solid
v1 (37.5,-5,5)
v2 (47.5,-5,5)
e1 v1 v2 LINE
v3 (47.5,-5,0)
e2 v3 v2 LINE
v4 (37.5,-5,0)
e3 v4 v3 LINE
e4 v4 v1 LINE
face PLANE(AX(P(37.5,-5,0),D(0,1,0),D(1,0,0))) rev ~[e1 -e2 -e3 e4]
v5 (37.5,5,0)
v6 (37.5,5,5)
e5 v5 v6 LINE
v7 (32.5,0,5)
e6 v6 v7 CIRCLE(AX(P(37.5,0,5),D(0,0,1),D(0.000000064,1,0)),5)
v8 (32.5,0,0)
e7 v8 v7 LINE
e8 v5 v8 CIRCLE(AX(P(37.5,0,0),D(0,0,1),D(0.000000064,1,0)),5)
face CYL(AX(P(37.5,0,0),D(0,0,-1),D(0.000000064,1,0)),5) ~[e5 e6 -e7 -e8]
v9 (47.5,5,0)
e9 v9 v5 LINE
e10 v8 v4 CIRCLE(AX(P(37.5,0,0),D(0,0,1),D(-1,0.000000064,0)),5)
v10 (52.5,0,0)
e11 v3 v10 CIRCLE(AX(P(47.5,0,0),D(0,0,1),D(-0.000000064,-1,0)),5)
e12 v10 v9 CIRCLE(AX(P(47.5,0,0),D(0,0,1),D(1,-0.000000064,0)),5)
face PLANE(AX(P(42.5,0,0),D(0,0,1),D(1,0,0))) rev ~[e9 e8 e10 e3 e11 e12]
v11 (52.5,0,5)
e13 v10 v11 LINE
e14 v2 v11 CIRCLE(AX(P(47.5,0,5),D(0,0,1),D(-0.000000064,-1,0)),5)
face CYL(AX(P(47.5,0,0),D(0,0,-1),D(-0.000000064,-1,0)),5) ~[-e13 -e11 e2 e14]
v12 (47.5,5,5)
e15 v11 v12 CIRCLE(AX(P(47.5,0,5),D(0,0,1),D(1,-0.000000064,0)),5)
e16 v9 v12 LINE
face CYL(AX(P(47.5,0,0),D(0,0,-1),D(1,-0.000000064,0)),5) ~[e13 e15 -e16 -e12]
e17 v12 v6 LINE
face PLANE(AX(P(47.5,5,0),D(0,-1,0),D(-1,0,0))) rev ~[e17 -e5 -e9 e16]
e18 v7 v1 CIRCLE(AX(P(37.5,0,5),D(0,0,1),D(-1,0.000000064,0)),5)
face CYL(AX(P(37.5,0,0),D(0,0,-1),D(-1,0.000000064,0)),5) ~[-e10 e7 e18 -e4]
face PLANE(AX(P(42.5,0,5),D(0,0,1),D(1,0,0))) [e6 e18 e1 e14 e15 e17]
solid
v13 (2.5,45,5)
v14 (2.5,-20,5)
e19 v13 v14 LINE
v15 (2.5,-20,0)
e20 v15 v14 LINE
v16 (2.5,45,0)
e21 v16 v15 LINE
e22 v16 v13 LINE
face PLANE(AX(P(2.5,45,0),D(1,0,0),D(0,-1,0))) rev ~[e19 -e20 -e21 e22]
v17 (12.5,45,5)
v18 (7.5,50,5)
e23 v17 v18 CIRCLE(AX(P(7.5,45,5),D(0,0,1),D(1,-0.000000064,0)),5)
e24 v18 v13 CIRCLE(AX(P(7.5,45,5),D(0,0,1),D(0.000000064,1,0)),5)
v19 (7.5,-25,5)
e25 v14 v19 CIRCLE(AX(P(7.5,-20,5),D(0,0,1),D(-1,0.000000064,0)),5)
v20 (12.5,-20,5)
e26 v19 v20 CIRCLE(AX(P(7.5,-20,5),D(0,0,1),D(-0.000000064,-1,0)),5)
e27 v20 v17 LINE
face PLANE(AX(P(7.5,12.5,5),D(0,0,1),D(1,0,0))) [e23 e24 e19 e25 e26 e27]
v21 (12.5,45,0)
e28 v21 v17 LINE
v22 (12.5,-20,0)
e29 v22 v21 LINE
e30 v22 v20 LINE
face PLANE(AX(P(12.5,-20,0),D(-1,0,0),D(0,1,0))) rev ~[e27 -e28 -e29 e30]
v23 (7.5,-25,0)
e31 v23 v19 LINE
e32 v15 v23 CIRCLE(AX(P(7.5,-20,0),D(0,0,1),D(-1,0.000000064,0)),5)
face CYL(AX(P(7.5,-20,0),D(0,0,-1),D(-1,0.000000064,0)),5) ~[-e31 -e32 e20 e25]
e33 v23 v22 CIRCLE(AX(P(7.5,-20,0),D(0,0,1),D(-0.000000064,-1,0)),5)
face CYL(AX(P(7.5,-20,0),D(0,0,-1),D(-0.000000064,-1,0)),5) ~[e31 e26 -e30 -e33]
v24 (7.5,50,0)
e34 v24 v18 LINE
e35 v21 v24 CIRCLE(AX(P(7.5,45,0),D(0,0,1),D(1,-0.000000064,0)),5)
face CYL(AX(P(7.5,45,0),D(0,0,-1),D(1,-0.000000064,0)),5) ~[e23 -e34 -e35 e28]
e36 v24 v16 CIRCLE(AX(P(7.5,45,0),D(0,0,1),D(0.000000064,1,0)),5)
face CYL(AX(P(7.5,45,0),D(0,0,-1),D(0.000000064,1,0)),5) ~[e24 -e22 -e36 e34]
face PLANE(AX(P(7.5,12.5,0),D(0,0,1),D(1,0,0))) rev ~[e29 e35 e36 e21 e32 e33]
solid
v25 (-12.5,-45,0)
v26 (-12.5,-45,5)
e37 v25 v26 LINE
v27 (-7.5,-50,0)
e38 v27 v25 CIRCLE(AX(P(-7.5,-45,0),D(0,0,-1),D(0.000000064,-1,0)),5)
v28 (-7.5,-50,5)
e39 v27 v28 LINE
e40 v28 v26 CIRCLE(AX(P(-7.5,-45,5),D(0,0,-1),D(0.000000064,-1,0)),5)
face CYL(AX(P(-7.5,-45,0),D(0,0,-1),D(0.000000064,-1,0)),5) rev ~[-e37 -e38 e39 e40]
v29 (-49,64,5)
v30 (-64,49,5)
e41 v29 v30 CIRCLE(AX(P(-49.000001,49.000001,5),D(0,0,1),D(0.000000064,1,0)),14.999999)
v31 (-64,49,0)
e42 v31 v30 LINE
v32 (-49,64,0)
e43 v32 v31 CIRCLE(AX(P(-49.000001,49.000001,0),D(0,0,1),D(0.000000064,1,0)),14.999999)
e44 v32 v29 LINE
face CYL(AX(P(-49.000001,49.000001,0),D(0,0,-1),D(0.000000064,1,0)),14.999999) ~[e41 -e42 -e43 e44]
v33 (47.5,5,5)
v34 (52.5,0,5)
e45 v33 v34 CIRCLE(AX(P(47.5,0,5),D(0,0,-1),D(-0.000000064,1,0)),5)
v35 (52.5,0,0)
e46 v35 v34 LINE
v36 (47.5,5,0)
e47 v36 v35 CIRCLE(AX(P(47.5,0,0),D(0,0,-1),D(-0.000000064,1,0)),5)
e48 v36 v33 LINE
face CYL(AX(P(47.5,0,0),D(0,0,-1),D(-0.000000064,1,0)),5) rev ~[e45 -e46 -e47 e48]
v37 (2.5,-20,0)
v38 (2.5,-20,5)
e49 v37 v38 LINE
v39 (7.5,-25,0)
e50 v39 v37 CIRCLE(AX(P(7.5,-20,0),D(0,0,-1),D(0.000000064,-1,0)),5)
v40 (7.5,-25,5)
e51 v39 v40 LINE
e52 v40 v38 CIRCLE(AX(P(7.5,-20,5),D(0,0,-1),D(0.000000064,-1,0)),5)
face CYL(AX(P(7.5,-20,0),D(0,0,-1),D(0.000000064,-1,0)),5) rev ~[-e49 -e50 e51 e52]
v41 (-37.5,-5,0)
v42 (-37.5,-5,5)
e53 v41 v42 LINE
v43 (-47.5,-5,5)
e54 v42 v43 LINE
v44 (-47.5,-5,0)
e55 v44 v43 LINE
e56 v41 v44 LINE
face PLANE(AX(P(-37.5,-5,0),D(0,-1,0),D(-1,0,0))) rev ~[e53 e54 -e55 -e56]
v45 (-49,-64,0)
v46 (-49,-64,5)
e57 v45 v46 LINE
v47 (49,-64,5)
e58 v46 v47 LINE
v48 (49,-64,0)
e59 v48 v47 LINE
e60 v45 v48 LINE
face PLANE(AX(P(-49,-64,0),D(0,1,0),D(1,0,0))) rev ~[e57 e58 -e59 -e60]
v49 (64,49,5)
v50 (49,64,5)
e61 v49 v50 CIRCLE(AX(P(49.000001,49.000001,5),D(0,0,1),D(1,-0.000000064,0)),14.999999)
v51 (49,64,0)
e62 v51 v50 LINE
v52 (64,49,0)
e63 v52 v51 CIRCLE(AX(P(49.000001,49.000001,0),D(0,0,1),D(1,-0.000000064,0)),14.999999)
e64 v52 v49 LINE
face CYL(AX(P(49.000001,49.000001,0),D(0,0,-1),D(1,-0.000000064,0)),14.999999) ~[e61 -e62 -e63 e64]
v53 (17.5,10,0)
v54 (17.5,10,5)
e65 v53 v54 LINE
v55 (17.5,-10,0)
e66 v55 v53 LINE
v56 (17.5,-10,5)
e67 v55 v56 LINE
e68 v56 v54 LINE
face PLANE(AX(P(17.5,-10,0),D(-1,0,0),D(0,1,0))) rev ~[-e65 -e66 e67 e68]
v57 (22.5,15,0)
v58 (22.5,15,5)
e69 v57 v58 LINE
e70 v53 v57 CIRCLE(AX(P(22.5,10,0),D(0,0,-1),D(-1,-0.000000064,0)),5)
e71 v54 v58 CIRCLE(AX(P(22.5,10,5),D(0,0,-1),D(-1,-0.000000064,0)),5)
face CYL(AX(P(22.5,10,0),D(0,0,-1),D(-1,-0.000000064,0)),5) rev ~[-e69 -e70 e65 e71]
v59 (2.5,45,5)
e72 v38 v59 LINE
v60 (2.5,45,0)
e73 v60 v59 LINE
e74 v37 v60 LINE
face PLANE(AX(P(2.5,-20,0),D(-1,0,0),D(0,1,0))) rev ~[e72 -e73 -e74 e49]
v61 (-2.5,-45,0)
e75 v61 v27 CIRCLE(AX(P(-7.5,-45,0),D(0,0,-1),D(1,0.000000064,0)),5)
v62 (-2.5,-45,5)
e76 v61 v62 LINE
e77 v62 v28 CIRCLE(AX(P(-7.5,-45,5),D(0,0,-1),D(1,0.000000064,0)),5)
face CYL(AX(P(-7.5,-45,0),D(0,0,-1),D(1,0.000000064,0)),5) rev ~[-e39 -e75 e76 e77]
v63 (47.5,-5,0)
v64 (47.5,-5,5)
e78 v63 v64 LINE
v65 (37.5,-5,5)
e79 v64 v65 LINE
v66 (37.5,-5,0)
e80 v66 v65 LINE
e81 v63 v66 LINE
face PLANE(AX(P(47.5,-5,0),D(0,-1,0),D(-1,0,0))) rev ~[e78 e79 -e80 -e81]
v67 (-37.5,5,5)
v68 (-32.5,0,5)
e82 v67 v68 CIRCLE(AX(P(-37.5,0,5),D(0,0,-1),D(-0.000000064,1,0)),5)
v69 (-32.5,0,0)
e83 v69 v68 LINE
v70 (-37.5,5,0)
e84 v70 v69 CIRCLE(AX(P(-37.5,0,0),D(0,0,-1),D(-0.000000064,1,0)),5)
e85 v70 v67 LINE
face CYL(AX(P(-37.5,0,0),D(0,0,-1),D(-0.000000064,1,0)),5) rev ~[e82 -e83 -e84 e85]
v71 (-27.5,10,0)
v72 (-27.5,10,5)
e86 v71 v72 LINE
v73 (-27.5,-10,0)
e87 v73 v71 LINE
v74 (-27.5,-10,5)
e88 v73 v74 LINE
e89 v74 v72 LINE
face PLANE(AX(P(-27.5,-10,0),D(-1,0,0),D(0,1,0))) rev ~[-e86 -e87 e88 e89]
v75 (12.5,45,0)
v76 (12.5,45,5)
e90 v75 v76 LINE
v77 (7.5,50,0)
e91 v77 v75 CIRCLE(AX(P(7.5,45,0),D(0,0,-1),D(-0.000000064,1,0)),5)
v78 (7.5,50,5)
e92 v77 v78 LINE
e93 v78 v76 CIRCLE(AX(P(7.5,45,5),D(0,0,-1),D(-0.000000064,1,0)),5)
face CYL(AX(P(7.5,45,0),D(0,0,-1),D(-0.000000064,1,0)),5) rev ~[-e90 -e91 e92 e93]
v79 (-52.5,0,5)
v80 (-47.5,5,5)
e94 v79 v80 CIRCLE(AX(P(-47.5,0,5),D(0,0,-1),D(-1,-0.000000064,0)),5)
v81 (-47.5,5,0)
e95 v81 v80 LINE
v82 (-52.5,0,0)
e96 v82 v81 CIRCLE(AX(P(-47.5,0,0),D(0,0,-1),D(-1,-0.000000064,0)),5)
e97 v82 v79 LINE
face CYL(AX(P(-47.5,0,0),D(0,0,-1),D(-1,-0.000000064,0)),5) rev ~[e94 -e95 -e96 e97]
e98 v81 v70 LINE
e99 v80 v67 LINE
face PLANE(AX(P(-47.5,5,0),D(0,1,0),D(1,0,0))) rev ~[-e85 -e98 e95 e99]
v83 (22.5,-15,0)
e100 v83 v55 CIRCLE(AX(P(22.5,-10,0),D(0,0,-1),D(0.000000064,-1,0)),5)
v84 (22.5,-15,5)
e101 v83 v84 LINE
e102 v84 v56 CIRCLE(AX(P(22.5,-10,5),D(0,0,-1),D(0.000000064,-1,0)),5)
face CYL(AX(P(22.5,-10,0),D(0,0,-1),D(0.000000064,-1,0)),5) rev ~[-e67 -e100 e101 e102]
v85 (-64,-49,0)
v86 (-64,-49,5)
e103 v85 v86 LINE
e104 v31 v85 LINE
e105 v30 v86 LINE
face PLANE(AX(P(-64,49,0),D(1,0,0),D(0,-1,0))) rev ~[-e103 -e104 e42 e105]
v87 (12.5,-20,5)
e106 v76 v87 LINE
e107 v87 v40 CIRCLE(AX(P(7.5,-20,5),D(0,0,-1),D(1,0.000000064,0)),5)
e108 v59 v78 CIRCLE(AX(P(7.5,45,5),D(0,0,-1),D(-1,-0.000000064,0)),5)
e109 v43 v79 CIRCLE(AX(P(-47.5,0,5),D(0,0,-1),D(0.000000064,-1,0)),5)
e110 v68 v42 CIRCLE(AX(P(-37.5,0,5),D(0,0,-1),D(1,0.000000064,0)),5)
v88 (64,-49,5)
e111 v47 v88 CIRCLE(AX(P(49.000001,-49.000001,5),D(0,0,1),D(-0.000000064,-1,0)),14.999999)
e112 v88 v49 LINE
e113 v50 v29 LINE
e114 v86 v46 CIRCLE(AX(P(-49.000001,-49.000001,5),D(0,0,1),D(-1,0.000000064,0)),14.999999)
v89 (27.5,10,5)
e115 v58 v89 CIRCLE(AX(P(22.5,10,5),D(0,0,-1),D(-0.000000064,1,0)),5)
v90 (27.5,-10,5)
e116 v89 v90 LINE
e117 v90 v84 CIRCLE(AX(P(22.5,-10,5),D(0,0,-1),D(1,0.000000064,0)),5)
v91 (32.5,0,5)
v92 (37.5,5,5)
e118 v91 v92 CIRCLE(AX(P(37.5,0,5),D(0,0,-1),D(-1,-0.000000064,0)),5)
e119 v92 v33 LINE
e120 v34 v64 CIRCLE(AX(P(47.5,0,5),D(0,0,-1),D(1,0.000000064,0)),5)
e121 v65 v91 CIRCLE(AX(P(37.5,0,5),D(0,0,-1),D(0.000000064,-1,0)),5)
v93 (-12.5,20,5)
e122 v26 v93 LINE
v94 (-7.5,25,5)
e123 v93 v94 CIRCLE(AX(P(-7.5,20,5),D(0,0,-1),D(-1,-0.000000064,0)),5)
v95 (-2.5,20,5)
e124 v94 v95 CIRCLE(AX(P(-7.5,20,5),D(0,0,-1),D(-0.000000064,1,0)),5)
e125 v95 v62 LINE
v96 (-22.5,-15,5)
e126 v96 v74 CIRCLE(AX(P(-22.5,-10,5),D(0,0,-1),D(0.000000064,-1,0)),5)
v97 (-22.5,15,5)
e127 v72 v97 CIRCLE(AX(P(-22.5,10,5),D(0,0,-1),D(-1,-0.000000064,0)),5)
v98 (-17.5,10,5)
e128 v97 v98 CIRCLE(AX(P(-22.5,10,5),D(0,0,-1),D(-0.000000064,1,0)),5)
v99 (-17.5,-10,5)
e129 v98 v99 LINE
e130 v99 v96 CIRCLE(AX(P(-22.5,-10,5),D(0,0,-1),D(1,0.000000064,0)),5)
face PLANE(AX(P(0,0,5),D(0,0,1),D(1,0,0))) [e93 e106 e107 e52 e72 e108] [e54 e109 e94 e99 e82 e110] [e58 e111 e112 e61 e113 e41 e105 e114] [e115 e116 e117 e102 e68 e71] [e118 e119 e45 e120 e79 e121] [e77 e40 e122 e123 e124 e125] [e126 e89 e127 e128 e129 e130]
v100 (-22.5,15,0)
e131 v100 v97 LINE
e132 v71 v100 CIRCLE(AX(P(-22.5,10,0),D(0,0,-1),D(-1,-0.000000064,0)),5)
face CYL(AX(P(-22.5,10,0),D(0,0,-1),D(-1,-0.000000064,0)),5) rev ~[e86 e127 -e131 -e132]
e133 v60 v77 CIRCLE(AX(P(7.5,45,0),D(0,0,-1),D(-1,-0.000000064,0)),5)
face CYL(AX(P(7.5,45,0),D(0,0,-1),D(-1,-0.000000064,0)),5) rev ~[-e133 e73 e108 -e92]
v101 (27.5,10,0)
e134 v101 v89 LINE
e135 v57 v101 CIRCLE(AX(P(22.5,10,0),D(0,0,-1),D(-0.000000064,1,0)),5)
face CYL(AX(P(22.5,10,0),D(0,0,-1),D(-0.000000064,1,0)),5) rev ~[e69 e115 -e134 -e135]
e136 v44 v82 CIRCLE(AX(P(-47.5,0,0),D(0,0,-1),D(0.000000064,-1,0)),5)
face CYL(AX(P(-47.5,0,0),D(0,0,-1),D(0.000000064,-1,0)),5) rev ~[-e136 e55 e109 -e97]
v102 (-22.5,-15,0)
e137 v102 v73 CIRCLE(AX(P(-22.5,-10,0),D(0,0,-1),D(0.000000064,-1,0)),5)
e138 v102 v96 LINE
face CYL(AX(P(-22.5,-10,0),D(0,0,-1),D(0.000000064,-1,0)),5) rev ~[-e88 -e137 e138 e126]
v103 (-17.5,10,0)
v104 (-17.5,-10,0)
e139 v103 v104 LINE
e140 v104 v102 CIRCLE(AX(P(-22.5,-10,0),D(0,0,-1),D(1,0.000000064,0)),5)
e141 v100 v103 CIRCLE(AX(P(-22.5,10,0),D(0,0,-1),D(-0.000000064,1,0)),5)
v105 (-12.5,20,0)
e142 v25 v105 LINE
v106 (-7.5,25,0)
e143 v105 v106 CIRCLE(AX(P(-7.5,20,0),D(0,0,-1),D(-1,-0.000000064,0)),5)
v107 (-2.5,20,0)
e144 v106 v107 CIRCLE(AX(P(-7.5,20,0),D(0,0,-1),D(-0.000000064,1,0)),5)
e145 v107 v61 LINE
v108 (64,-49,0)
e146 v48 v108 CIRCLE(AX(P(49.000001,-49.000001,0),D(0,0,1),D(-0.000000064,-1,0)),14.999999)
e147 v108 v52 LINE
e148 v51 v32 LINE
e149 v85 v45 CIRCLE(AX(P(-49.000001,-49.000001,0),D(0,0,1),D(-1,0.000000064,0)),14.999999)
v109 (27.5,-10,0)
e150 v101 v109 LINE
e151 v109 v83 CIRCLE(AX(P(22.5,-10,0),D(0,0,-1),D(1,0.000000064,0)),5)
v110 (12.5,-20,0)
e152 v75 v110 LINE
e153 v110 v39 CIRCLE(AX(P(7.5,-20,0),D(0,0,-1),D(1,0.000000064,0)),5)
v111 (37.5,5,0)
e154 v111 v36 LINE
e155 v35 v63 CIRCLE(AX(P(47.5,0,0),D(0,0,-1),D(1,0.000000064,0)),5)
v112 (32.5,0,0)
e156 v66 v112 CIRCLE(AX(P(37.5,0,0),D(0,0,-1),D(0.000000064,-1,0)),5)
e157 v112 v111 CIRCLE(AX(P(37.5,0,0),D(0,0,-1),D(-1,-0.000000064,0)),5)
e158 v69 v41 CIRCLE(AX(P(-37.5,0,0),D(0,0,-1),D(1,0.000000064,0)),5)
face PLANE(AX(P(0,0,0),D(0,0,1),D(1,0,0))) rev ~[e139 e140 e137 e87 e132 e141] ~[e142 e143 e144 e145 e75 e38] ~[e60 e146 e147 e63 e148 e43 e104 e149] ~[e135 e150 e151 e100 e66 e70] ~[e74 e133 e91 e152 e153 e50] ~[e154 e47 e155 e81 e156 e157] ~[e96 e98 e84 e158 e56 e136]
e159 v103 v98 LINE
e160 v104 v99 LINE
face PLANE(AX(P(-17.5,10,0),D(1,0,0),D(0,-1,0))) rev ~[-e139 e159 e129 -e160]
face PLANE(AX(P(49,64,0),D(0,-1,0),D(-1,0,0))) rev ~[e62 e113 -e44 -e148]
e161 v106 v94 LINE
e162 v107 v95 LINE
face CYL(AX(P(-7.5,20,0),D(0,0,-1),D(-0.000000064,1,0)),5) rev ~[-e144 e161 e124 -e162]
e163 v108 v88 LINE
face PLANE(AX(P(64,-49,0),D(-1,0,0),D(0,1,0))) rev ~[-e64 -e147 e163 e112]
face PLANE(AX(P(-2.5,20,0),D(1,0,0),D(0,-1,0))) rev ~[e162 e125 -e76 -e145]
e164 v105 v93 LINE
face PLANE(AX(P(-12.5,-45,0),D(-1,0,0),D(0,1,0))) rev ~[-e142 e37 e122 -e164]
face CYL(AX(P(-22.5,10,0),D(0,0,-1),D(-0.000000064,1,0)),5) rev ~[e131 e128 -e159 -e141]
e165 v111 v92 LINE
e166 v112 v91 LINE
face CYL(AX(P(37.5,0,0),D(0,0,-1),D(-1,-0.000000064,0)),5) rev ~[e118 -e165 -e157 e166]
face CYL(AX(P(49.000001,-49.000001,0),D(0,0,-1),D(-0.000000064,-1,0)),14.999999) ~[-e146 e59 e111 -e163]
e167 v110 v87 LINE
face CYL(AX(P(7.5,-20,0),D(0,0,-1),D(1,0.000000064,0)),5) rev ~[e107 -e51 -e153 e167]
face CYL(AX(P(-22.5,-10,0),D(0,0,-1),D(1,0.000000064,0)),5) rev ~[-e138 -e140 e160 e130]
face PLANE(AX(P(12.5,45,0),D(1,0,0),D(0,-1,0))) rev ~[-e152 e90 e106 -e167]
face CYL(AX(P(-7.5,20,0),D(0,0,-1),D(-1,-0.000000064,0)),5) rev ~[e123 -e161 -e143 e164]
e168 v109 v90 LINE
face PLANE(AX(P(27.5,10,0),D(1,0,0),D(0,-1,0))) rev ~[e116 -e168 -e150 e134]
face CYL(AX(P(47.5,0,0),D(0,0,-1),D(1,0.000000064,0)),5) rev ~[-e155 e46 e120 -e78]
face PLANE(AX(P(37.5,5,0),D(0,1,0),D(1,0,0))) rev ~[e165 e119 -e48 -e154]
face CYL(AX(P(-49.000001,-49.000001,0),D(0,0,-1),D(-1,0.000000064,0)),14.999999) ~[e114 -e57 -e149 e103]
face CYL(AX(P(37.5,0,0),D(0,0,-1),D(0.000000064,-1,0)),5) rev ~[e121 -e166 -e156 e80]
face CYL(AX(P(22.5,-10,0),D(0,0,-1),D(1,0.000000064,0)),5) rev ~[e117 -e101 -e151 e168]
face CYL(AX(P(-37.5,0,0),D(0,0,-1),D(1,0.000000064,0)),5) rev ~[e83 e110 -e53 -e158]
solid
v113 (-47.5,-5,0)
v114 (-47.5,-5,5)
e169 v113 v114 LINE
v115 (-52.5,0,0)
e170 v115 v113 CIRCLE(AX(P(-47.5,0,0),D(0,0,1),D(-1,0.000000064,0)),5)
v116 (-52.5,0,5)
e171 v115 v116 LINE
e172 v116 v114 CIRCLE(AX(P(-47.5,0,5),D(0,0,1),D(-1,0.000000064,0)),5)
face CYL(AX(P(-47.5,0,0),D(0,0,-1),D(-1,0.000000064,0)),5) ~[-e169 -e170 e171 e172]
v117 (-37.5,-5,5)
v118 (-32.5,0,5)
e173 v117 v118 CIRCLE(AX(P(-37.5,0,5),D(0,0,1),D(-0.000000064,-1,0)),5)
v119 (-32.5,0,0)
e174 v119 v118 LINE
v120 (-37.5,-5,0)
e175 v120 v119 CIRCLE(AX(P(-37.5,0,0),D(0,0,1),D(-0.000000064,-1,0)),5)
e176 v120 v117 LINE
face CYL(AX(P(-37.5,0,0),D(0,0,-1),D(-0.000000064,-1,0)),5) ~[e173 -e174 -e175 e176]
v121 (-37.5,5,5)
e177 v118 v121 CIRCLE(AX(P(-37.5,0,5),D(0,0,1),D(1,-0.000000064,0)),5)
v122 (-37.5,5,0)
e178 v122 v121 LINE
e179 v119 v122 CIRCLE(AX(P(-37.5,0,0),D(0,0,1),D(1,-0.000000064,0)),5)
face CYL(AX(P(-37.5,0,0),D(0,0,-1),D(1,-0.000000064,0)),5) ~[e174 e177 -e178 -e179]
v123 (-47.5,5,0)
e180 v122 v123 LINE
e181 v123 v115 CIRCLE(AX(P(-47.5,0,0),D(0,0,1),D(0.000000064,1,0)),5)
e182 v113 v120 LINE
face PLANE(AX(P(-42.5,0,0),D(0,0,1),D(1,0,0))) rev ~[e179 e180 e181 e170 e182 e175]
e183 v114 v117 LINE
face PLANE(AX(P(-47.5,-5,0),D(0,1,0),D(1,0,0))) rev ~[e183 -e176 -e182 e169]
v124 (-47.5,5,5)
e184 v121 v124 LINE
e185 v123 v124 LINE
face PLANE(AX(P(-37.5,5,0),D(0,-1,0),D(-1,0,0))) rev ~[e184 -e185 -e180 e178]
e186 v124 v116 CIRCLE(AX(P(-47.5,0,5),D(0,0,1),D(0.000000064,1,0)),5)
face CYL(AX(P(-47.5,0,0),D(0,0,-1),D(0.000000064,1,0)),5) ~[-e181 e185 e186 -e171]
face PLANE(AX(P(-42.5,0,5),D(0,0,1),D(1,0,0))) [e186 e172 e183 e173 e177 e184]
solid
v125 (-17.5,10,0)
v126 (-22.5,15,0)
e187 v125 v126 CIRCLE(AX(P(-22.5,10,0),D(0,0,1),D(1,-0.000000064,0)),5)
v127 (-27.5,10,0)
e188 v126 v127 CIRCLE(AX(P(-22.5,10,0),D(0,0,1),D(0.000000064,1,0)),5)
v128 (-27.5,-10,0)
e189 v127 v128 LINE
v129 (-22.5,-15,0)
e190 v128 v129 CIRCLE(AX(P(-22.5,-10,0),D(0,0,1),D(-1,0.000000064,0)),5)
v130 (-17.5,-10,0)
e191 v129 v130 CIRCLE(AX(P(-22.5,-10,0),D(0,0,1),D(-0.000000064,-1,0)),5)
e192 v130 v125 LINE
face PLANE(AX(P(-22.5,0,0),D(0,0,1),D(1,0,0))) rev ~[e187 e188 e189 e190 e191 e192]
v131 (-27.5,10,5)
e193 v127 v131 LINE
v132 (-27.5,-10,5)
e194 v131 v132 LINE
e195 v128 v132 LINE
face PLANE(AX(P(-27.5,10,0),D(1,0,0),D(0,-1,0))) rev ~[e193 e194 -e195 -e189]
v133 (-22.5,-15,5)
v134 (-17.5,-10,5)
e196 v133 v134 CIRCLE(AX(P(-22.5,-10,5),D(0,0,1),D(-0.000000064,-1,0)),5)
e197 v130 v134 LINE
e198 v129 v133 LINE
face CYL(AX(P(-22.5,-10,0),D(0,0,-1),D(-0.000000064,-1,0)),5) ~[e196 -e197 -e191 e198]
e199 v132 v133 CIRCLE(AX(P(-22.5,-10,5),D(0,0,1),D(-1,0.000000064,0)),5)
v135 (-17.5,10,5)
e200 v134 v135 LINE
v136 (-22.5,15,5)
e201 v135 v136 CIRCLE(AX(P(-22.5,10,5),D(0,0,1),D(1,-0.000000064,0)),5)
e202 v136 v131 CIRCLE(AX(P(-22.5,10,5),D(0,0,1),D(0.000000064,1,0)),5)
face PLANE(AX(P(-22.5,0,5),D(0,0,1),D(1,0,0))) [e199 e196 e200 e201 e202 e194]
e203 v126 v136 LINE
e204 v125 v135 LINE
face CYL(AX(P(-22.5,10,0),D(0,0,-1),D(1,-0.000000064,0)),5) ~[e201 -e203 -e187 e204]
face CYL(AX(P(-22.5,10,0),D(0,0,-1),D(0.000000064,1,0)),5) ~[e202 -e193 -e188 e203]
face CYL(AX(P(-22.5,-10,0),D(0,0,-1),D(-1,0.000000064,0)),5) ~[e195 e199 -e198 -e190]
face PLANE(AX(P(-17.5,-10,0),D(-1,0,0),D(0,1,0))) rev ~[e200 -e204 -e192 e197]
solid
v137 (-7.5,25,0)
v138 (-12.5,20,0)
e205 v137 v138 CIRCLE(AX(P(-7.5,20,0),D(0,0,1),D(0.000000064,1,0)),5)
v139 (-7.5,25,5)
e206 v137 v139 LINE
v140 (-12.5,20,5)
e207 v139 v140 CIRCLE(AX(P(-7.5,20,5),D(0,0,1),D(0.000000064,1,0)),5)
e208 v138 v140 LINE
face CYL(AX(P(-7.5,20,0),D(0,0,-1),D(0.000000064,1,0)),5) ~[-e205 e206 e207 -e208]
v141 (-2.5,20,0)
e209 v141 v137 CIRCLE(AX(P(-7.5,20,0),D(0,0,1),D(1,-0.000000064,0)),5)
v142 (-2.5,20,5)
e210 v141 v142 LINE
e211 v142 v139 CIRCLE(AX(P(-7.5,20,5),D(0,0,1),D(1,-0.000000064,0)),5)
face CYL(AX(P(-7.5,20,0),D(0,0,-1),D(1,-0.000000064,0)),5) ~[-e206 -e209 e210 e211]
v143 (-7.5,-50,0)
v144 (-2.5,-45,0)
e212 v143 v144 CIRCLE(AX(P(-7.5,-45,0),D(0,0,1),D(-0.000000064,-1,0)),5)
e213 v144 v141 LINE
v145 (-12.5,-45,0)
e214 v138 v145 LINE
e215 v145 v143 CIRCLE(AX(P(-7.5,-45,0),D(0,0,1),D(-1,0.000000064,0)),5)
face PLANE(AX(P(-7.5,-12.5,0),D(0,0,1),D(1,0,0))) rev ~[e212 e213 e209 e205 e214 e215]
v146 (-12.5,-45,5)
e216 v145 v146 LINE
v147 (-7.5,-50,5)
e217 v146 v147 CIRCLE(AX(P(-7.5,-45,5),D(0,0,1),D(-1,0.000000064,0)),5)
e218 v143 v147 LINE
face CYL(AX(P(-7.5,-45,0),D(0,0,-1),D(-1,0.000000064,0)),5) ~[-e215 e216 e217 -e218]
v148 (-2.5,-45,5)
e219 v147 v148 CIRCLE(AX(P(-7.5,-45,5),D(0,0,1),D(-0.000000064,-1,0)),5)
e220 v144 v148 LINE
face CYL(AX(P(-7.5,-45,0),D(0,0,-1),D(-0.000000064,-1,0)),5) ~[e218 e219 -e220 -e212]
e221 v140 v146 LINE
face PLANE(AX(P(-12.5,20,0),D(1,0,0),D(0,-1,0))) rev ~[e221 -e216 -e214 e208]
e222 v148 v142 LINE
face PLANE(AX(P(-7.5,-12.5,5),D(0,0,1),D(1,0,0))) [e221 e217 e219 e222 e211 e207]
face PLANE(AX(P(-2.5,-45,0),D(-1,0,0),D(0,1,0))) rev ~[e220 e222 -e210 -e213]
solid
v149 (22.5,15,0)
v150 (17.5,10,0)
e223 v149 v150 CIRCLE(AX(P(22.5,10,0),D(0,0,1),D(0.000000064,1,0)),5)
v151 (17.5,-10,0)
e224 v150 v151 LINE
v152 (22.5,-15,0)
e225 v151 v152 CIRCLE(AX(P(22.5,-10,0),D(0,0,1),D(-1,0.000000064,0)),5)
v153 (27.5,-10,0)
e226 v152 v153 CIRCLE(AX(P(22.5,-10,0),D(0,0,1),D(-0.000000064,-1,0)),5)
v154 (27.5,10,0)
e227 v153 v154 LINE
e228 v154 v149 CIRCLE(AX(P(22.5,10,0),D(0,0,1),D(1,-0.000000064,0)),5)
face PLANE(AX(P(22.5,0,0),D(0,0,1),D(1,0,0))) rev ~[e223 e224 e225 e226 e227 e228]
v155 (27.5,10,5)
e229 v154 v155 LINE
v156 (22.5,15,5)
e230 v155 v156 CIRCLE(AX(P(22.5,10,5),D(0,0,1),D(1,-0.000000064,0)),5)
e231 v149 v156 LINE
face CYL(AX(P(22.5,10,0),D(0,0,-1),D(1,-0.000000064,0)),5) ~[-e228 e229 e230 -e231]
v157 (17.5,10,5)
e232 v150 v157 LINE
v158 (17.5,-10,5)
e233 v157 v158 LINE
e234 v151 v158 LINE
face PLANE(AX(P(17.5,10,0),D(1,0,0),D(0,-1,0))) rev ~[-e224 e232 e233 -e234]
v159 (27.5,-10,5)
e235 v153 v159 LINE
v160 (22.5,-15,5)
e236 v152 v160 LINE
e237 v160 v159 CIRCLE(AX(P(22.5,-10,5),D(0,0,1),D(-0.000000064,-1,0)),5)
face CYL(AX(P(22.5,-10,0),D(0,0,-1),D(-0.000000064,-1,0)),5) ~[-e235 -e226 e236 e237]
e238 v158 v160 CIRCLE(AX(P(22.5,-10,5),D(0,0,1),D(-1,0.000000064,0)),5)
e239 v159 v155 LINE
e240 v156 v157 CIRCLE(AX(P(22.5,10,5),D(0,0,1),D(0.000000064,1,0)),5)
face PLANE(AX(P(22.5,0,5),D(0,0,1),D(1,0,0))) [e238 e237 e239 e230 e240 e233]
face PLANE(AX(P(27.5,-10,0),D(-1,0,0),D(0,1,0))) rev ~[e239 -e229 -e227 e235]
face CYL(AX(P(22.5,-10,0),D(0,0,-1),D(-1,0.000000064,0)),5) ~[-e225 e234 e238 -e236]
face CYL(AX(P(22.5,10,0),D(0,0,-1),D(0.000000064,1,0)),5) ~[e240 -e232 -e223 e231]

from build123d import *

# Parameters (mm, degrees)
F1_DEPTH = 5
F2_DEPTH = 5
F3_DEPTH = 5
F4_DEPTH = 5
F5_DEPTH = 5
F6_DEPTH = 5
F7_DEPTH = 5


with BuildPart() as f1:
    # F0 (on Top) → F1 (new body)
    with BuildSketch(Plane.XY):
        with BuildLine():
            ThreePointArc((64, 49), (59.606602, 59.606602), (49, 64))
            Line((49, 64), (-49, 64))
            ThreePointArc((-49, 64), (-59.606602, 59.606602), (-64, 49))
            Line((-64, 49), (-64, -49))
            ThreePointArc((-64, -49), (-59.606602, -59.606602), (-49, -64))
            Line((-49, -64), (49, -64))
            ThreePointArc((49, -64), (59.606602, -59.606602), (64, -49))
            Line((64, -49), (64, 49))
        make_face()
        with BuildLine():
            ThreePointArc((-7.5, 25), (-3.964466, 23.535534), (-2.5, 20))
            Line((-2.5, 20), (-2.5, -25))
            Line((-2.5, -25), (-2.5, -45))
            ThreePointArc((-2.5, -45), (-3.964466, -48.535534), (-7.5, -50))
            ThreePointArc((-7.5, -50), (-11.035534, -48.535534), (-12.5, -45))
            Line((-12.5, -45), (-12.5, -25))
            Line((-12.5, -25), (-12.5, 20))
            ThreePointArc((-12.5, 20), (-11.035534, 23.535534), (-7.5, 25))
        make_face(mode=Mode.SUBTRACT)
        with BuildLine():
            Line((-47.5, 5), (-37.5, 5))
            ThreePointArc((-37.5, 5), (-33.964466, 3.535534), (-32.5, 0))
            ThreePointArc((-32.5, 0), (-33.964466, -3.535534), (-37.5, -5))
            Line((-37.5, -5), (-47.5, -5))
            ThreePointArc((-47.5, -5), (-51.035534, -3.535534), (-52.5, 0))
            ThreePointArc((-52.5, 0), (-51.035534, 3.535534), (-47.5, 5))
        make_face(mode=Mode.SUBTRACT)
        with BuildLine():
            ThreePointArc((-22.5, 15), (-18.964466, 13.535534), (-17.5, 10))
            Line((-17.5, 10), (-17.5, -10))
            ThreePointArc((-17.5, -10), (-18.964466, -13.535534), (-22.5, -15))
            ThreePointArc((-22.5, -15), (-26.035534, -13.535534), (-27.5, -10))
            Line((-27.5, -10), (-27.5, 10))
            ThreePointArc((-27.5, 10), (-26.035534, 13.535534), (-22.5, 15))
        make_face(mode=Mode.SUBTRACT)
        with BuildLine():
            ThreePointArc((7.5, -25), (3.964466, -23.535534), (2.5, -20))
            Line((2.5, -20), (2.5, 25))
            Line((2.5, 25), (2.5, 45))
            ThreePointArc((2.5, 45), (3.964466, 48.535534), (7.5, 50))
            ThreePointArc((7.5, 50), (11.035534, 48.535534), (12.5, 45))
            Line((12.5, 45), (12.5, 25))
            Line((12.5, 25), (12.5, -20))
            ThreePointArc((12.5, -20), (11.035534, -23.535534), (7.5, -25))
        make_face(mode=Mode.SUBTRACT)
        with BuildLine():
            Line((27.5, 10), (27.5, -10))
            ThreePointArc((27.5, -10), (26.035534, -13.535534), (22.5, -15))
            ThreePointArc((22.5, -15), (18.964466, -13.535534), (17.5, -10))
            Line((17.5, -10), (17.5, 10))
            ThreePointArc((17.5, 10), (18.964466, 13.535534), (22.5, 15))
            ThreePointArc((22.5, 15), (26.035534, 13.535534), (27.5, 10))
        make_face(mode=Mode.SUBTRACT)
        with BuildLine():
            Line((47.5, -5), (37.5, -5))
            ThreePointArc((37.5, -5), (33.964466, -3.535534), (32.5, 0))
            ThreePointArc((32.5, 0), (33.964466, 3.535534), (37.5, 5))
            Line((37.5, 5), (47.5, 5))
            ThreePointArc((47.5, 5), (51.035534, 3.535534), (52.5, 0))
            ThreePointArc((52.5, 0), (51.035534, -3.535534), (47.5, -5))
        make_face(mode=Mode.SUBTRACT)
    extrude(amount=F1_DEPTH)


with BuildPart() as f2:
    # F0 (on Top) → F2 (new body)
    with BuildSketch(Plane.XY):
        with BuildLine():
            ThreePointArc((-32.5, 0), (-33.964466, 3.535534), (-37.5, 5))
            Line((-37.5, 5), (-47.5, 5))
            ThreePointArc((-47.5, 5), (-51.035534, 3.535534), (-52.5, 0))
            ThreePointArc((-52.5, 0), (-51.035534, -3.535534), (-47.5, -5))
            Line((-47.5, -5), (-37.5, -5))
            ThreePointArc((-37.5, -5), (-33.964466, -3.535534), (-32.5, 0))
        make_face()
    extrude(amount=F2_DEPTH)


with BuildPart() as f3:
    # F0 (on Top) → F3 (new body)
    with BuildSketch(Plane.XY):
        with BuildLine():
            Line((-17.5, -10), (-17.5, 10))
            ThreePointArc((-17.5, 10), (-18.964466, 13.535534), (-22.5, 15))
            ThreePointArc((-22.5, 15), (-26.035534, 13.535534), (-27.5, 10))
            Line((-27.5, 10), (-27.5, -10))
            ThreePointArc((-27.5, -10), (-26.035534, -13.535534), (-22.5, -15))
            ThreePointArc((-22.5, -15), (-18.964466, -13.535534), (-17.5, -10))
        make_face()
    extrude(amount=F3_DEPTH)


with BuildPart() as f4:
    # F0 (on Top) → F4 (new body)
    with BuildSketch(Plane.XY):
        with BuildLine():
            Line((-2.5, -25), (-2.5, 20))
            ThreePointArc((-2.5, 20), (-3.964466, 23.535534), (-7.5, 25))
            ThreePointArc((-7.5, 25), (-11.035534, 23.535534), (-12.5, 20))
            Line((-12.5, 20), (-12.5, -25))
            Line((-12.5, -25), (-12.5, -45))
            ThreePointArc((-12.5, -45), (-11.035534, -48.535534), (-7.5, -50))
            ThreePointArc((-7.5, -50), (-3.964466, -48.535534), (-2.5, -45))
            Line((-2.5, -45), (-2.5, -25))
        make_face()
    extrude(amount=F4_DEPTH)


with BuildPart() as f5:
    # F0 (on Top) → F5 (new body)
    with BuildSketch(Plane.XY):
        with BuildLine():
            Line((2.5, 25), (2.5, -20))
            ThreePointArc((2.5, -20), (3.964466, -23.535534), (7.5, -25))
            ThreePointArc((7.5, -25), (11.035534, -23.535534), (12.5, -20))
            Line((12.5, -20), (12.5, 25))
            Line((12.5, 25), (12.5, 45))
            ThreePointArc((12.5, 45), (11.035534, 48.535534), (7.5, 50))
            ThreePointArc((7.5, 50), (3.964466, 48.535534), (2.5, 45))
            Line((2.5, 45), (2.5, 25))
        make_face()
    extrude(amount=F5_DEPTH)


with BuildPart() as f6:
    # F0 (on Top) → F6 (new body)
    with BuildSketch(Plane.XY):
        with BuildLine():
            ThreePointArc((22.5, -15), (26.035534, -13.535534), (27.5, -10))
            Line((27.5, -10), (27.5, 10))
            ThreePointArc((27.5, 10), (26.035534, 13.535534), (22.5, 15))
            ThreePointArc((22.5, 15), (18.964466, 13.535534), (17.5, 10))
            Line((17.5, 10), (17.5, -10))
            ThreePointArc((17.5, -10), (18.964466, -13.535534), (22.5, -15))
        make_face()
    extrude(amount=F6_DEPTH)


with BuildPart() as f7:
    # F0 (on Top) → F7 (new body)
    with BuildSketch(Plane.XY):
        with BuildLine():
            ThreePointArc((32.5, 0), (33.964466, -3.535534), (37.5, -5))
            Line((37.5, -5), (47.5, -5))
            ThreePointArc((47.5, -5), (51.035534, -3.535534), (52.5, 0))
            ThreePointArc((52.5, 0), (51.035534, 3.535534), (47.5, 5))
            Line((47.5, 5), (37.5, 5))
            ThreePointArc((37.5, 5), (33.964466, 3.535534), (32.5, 0))
        make_face()
    extrude(amount=F7_DEPTH)


solid = Compound([f1.part, f2.part, f3.part, f4.part, f5.part, f6.part, f7.part])
